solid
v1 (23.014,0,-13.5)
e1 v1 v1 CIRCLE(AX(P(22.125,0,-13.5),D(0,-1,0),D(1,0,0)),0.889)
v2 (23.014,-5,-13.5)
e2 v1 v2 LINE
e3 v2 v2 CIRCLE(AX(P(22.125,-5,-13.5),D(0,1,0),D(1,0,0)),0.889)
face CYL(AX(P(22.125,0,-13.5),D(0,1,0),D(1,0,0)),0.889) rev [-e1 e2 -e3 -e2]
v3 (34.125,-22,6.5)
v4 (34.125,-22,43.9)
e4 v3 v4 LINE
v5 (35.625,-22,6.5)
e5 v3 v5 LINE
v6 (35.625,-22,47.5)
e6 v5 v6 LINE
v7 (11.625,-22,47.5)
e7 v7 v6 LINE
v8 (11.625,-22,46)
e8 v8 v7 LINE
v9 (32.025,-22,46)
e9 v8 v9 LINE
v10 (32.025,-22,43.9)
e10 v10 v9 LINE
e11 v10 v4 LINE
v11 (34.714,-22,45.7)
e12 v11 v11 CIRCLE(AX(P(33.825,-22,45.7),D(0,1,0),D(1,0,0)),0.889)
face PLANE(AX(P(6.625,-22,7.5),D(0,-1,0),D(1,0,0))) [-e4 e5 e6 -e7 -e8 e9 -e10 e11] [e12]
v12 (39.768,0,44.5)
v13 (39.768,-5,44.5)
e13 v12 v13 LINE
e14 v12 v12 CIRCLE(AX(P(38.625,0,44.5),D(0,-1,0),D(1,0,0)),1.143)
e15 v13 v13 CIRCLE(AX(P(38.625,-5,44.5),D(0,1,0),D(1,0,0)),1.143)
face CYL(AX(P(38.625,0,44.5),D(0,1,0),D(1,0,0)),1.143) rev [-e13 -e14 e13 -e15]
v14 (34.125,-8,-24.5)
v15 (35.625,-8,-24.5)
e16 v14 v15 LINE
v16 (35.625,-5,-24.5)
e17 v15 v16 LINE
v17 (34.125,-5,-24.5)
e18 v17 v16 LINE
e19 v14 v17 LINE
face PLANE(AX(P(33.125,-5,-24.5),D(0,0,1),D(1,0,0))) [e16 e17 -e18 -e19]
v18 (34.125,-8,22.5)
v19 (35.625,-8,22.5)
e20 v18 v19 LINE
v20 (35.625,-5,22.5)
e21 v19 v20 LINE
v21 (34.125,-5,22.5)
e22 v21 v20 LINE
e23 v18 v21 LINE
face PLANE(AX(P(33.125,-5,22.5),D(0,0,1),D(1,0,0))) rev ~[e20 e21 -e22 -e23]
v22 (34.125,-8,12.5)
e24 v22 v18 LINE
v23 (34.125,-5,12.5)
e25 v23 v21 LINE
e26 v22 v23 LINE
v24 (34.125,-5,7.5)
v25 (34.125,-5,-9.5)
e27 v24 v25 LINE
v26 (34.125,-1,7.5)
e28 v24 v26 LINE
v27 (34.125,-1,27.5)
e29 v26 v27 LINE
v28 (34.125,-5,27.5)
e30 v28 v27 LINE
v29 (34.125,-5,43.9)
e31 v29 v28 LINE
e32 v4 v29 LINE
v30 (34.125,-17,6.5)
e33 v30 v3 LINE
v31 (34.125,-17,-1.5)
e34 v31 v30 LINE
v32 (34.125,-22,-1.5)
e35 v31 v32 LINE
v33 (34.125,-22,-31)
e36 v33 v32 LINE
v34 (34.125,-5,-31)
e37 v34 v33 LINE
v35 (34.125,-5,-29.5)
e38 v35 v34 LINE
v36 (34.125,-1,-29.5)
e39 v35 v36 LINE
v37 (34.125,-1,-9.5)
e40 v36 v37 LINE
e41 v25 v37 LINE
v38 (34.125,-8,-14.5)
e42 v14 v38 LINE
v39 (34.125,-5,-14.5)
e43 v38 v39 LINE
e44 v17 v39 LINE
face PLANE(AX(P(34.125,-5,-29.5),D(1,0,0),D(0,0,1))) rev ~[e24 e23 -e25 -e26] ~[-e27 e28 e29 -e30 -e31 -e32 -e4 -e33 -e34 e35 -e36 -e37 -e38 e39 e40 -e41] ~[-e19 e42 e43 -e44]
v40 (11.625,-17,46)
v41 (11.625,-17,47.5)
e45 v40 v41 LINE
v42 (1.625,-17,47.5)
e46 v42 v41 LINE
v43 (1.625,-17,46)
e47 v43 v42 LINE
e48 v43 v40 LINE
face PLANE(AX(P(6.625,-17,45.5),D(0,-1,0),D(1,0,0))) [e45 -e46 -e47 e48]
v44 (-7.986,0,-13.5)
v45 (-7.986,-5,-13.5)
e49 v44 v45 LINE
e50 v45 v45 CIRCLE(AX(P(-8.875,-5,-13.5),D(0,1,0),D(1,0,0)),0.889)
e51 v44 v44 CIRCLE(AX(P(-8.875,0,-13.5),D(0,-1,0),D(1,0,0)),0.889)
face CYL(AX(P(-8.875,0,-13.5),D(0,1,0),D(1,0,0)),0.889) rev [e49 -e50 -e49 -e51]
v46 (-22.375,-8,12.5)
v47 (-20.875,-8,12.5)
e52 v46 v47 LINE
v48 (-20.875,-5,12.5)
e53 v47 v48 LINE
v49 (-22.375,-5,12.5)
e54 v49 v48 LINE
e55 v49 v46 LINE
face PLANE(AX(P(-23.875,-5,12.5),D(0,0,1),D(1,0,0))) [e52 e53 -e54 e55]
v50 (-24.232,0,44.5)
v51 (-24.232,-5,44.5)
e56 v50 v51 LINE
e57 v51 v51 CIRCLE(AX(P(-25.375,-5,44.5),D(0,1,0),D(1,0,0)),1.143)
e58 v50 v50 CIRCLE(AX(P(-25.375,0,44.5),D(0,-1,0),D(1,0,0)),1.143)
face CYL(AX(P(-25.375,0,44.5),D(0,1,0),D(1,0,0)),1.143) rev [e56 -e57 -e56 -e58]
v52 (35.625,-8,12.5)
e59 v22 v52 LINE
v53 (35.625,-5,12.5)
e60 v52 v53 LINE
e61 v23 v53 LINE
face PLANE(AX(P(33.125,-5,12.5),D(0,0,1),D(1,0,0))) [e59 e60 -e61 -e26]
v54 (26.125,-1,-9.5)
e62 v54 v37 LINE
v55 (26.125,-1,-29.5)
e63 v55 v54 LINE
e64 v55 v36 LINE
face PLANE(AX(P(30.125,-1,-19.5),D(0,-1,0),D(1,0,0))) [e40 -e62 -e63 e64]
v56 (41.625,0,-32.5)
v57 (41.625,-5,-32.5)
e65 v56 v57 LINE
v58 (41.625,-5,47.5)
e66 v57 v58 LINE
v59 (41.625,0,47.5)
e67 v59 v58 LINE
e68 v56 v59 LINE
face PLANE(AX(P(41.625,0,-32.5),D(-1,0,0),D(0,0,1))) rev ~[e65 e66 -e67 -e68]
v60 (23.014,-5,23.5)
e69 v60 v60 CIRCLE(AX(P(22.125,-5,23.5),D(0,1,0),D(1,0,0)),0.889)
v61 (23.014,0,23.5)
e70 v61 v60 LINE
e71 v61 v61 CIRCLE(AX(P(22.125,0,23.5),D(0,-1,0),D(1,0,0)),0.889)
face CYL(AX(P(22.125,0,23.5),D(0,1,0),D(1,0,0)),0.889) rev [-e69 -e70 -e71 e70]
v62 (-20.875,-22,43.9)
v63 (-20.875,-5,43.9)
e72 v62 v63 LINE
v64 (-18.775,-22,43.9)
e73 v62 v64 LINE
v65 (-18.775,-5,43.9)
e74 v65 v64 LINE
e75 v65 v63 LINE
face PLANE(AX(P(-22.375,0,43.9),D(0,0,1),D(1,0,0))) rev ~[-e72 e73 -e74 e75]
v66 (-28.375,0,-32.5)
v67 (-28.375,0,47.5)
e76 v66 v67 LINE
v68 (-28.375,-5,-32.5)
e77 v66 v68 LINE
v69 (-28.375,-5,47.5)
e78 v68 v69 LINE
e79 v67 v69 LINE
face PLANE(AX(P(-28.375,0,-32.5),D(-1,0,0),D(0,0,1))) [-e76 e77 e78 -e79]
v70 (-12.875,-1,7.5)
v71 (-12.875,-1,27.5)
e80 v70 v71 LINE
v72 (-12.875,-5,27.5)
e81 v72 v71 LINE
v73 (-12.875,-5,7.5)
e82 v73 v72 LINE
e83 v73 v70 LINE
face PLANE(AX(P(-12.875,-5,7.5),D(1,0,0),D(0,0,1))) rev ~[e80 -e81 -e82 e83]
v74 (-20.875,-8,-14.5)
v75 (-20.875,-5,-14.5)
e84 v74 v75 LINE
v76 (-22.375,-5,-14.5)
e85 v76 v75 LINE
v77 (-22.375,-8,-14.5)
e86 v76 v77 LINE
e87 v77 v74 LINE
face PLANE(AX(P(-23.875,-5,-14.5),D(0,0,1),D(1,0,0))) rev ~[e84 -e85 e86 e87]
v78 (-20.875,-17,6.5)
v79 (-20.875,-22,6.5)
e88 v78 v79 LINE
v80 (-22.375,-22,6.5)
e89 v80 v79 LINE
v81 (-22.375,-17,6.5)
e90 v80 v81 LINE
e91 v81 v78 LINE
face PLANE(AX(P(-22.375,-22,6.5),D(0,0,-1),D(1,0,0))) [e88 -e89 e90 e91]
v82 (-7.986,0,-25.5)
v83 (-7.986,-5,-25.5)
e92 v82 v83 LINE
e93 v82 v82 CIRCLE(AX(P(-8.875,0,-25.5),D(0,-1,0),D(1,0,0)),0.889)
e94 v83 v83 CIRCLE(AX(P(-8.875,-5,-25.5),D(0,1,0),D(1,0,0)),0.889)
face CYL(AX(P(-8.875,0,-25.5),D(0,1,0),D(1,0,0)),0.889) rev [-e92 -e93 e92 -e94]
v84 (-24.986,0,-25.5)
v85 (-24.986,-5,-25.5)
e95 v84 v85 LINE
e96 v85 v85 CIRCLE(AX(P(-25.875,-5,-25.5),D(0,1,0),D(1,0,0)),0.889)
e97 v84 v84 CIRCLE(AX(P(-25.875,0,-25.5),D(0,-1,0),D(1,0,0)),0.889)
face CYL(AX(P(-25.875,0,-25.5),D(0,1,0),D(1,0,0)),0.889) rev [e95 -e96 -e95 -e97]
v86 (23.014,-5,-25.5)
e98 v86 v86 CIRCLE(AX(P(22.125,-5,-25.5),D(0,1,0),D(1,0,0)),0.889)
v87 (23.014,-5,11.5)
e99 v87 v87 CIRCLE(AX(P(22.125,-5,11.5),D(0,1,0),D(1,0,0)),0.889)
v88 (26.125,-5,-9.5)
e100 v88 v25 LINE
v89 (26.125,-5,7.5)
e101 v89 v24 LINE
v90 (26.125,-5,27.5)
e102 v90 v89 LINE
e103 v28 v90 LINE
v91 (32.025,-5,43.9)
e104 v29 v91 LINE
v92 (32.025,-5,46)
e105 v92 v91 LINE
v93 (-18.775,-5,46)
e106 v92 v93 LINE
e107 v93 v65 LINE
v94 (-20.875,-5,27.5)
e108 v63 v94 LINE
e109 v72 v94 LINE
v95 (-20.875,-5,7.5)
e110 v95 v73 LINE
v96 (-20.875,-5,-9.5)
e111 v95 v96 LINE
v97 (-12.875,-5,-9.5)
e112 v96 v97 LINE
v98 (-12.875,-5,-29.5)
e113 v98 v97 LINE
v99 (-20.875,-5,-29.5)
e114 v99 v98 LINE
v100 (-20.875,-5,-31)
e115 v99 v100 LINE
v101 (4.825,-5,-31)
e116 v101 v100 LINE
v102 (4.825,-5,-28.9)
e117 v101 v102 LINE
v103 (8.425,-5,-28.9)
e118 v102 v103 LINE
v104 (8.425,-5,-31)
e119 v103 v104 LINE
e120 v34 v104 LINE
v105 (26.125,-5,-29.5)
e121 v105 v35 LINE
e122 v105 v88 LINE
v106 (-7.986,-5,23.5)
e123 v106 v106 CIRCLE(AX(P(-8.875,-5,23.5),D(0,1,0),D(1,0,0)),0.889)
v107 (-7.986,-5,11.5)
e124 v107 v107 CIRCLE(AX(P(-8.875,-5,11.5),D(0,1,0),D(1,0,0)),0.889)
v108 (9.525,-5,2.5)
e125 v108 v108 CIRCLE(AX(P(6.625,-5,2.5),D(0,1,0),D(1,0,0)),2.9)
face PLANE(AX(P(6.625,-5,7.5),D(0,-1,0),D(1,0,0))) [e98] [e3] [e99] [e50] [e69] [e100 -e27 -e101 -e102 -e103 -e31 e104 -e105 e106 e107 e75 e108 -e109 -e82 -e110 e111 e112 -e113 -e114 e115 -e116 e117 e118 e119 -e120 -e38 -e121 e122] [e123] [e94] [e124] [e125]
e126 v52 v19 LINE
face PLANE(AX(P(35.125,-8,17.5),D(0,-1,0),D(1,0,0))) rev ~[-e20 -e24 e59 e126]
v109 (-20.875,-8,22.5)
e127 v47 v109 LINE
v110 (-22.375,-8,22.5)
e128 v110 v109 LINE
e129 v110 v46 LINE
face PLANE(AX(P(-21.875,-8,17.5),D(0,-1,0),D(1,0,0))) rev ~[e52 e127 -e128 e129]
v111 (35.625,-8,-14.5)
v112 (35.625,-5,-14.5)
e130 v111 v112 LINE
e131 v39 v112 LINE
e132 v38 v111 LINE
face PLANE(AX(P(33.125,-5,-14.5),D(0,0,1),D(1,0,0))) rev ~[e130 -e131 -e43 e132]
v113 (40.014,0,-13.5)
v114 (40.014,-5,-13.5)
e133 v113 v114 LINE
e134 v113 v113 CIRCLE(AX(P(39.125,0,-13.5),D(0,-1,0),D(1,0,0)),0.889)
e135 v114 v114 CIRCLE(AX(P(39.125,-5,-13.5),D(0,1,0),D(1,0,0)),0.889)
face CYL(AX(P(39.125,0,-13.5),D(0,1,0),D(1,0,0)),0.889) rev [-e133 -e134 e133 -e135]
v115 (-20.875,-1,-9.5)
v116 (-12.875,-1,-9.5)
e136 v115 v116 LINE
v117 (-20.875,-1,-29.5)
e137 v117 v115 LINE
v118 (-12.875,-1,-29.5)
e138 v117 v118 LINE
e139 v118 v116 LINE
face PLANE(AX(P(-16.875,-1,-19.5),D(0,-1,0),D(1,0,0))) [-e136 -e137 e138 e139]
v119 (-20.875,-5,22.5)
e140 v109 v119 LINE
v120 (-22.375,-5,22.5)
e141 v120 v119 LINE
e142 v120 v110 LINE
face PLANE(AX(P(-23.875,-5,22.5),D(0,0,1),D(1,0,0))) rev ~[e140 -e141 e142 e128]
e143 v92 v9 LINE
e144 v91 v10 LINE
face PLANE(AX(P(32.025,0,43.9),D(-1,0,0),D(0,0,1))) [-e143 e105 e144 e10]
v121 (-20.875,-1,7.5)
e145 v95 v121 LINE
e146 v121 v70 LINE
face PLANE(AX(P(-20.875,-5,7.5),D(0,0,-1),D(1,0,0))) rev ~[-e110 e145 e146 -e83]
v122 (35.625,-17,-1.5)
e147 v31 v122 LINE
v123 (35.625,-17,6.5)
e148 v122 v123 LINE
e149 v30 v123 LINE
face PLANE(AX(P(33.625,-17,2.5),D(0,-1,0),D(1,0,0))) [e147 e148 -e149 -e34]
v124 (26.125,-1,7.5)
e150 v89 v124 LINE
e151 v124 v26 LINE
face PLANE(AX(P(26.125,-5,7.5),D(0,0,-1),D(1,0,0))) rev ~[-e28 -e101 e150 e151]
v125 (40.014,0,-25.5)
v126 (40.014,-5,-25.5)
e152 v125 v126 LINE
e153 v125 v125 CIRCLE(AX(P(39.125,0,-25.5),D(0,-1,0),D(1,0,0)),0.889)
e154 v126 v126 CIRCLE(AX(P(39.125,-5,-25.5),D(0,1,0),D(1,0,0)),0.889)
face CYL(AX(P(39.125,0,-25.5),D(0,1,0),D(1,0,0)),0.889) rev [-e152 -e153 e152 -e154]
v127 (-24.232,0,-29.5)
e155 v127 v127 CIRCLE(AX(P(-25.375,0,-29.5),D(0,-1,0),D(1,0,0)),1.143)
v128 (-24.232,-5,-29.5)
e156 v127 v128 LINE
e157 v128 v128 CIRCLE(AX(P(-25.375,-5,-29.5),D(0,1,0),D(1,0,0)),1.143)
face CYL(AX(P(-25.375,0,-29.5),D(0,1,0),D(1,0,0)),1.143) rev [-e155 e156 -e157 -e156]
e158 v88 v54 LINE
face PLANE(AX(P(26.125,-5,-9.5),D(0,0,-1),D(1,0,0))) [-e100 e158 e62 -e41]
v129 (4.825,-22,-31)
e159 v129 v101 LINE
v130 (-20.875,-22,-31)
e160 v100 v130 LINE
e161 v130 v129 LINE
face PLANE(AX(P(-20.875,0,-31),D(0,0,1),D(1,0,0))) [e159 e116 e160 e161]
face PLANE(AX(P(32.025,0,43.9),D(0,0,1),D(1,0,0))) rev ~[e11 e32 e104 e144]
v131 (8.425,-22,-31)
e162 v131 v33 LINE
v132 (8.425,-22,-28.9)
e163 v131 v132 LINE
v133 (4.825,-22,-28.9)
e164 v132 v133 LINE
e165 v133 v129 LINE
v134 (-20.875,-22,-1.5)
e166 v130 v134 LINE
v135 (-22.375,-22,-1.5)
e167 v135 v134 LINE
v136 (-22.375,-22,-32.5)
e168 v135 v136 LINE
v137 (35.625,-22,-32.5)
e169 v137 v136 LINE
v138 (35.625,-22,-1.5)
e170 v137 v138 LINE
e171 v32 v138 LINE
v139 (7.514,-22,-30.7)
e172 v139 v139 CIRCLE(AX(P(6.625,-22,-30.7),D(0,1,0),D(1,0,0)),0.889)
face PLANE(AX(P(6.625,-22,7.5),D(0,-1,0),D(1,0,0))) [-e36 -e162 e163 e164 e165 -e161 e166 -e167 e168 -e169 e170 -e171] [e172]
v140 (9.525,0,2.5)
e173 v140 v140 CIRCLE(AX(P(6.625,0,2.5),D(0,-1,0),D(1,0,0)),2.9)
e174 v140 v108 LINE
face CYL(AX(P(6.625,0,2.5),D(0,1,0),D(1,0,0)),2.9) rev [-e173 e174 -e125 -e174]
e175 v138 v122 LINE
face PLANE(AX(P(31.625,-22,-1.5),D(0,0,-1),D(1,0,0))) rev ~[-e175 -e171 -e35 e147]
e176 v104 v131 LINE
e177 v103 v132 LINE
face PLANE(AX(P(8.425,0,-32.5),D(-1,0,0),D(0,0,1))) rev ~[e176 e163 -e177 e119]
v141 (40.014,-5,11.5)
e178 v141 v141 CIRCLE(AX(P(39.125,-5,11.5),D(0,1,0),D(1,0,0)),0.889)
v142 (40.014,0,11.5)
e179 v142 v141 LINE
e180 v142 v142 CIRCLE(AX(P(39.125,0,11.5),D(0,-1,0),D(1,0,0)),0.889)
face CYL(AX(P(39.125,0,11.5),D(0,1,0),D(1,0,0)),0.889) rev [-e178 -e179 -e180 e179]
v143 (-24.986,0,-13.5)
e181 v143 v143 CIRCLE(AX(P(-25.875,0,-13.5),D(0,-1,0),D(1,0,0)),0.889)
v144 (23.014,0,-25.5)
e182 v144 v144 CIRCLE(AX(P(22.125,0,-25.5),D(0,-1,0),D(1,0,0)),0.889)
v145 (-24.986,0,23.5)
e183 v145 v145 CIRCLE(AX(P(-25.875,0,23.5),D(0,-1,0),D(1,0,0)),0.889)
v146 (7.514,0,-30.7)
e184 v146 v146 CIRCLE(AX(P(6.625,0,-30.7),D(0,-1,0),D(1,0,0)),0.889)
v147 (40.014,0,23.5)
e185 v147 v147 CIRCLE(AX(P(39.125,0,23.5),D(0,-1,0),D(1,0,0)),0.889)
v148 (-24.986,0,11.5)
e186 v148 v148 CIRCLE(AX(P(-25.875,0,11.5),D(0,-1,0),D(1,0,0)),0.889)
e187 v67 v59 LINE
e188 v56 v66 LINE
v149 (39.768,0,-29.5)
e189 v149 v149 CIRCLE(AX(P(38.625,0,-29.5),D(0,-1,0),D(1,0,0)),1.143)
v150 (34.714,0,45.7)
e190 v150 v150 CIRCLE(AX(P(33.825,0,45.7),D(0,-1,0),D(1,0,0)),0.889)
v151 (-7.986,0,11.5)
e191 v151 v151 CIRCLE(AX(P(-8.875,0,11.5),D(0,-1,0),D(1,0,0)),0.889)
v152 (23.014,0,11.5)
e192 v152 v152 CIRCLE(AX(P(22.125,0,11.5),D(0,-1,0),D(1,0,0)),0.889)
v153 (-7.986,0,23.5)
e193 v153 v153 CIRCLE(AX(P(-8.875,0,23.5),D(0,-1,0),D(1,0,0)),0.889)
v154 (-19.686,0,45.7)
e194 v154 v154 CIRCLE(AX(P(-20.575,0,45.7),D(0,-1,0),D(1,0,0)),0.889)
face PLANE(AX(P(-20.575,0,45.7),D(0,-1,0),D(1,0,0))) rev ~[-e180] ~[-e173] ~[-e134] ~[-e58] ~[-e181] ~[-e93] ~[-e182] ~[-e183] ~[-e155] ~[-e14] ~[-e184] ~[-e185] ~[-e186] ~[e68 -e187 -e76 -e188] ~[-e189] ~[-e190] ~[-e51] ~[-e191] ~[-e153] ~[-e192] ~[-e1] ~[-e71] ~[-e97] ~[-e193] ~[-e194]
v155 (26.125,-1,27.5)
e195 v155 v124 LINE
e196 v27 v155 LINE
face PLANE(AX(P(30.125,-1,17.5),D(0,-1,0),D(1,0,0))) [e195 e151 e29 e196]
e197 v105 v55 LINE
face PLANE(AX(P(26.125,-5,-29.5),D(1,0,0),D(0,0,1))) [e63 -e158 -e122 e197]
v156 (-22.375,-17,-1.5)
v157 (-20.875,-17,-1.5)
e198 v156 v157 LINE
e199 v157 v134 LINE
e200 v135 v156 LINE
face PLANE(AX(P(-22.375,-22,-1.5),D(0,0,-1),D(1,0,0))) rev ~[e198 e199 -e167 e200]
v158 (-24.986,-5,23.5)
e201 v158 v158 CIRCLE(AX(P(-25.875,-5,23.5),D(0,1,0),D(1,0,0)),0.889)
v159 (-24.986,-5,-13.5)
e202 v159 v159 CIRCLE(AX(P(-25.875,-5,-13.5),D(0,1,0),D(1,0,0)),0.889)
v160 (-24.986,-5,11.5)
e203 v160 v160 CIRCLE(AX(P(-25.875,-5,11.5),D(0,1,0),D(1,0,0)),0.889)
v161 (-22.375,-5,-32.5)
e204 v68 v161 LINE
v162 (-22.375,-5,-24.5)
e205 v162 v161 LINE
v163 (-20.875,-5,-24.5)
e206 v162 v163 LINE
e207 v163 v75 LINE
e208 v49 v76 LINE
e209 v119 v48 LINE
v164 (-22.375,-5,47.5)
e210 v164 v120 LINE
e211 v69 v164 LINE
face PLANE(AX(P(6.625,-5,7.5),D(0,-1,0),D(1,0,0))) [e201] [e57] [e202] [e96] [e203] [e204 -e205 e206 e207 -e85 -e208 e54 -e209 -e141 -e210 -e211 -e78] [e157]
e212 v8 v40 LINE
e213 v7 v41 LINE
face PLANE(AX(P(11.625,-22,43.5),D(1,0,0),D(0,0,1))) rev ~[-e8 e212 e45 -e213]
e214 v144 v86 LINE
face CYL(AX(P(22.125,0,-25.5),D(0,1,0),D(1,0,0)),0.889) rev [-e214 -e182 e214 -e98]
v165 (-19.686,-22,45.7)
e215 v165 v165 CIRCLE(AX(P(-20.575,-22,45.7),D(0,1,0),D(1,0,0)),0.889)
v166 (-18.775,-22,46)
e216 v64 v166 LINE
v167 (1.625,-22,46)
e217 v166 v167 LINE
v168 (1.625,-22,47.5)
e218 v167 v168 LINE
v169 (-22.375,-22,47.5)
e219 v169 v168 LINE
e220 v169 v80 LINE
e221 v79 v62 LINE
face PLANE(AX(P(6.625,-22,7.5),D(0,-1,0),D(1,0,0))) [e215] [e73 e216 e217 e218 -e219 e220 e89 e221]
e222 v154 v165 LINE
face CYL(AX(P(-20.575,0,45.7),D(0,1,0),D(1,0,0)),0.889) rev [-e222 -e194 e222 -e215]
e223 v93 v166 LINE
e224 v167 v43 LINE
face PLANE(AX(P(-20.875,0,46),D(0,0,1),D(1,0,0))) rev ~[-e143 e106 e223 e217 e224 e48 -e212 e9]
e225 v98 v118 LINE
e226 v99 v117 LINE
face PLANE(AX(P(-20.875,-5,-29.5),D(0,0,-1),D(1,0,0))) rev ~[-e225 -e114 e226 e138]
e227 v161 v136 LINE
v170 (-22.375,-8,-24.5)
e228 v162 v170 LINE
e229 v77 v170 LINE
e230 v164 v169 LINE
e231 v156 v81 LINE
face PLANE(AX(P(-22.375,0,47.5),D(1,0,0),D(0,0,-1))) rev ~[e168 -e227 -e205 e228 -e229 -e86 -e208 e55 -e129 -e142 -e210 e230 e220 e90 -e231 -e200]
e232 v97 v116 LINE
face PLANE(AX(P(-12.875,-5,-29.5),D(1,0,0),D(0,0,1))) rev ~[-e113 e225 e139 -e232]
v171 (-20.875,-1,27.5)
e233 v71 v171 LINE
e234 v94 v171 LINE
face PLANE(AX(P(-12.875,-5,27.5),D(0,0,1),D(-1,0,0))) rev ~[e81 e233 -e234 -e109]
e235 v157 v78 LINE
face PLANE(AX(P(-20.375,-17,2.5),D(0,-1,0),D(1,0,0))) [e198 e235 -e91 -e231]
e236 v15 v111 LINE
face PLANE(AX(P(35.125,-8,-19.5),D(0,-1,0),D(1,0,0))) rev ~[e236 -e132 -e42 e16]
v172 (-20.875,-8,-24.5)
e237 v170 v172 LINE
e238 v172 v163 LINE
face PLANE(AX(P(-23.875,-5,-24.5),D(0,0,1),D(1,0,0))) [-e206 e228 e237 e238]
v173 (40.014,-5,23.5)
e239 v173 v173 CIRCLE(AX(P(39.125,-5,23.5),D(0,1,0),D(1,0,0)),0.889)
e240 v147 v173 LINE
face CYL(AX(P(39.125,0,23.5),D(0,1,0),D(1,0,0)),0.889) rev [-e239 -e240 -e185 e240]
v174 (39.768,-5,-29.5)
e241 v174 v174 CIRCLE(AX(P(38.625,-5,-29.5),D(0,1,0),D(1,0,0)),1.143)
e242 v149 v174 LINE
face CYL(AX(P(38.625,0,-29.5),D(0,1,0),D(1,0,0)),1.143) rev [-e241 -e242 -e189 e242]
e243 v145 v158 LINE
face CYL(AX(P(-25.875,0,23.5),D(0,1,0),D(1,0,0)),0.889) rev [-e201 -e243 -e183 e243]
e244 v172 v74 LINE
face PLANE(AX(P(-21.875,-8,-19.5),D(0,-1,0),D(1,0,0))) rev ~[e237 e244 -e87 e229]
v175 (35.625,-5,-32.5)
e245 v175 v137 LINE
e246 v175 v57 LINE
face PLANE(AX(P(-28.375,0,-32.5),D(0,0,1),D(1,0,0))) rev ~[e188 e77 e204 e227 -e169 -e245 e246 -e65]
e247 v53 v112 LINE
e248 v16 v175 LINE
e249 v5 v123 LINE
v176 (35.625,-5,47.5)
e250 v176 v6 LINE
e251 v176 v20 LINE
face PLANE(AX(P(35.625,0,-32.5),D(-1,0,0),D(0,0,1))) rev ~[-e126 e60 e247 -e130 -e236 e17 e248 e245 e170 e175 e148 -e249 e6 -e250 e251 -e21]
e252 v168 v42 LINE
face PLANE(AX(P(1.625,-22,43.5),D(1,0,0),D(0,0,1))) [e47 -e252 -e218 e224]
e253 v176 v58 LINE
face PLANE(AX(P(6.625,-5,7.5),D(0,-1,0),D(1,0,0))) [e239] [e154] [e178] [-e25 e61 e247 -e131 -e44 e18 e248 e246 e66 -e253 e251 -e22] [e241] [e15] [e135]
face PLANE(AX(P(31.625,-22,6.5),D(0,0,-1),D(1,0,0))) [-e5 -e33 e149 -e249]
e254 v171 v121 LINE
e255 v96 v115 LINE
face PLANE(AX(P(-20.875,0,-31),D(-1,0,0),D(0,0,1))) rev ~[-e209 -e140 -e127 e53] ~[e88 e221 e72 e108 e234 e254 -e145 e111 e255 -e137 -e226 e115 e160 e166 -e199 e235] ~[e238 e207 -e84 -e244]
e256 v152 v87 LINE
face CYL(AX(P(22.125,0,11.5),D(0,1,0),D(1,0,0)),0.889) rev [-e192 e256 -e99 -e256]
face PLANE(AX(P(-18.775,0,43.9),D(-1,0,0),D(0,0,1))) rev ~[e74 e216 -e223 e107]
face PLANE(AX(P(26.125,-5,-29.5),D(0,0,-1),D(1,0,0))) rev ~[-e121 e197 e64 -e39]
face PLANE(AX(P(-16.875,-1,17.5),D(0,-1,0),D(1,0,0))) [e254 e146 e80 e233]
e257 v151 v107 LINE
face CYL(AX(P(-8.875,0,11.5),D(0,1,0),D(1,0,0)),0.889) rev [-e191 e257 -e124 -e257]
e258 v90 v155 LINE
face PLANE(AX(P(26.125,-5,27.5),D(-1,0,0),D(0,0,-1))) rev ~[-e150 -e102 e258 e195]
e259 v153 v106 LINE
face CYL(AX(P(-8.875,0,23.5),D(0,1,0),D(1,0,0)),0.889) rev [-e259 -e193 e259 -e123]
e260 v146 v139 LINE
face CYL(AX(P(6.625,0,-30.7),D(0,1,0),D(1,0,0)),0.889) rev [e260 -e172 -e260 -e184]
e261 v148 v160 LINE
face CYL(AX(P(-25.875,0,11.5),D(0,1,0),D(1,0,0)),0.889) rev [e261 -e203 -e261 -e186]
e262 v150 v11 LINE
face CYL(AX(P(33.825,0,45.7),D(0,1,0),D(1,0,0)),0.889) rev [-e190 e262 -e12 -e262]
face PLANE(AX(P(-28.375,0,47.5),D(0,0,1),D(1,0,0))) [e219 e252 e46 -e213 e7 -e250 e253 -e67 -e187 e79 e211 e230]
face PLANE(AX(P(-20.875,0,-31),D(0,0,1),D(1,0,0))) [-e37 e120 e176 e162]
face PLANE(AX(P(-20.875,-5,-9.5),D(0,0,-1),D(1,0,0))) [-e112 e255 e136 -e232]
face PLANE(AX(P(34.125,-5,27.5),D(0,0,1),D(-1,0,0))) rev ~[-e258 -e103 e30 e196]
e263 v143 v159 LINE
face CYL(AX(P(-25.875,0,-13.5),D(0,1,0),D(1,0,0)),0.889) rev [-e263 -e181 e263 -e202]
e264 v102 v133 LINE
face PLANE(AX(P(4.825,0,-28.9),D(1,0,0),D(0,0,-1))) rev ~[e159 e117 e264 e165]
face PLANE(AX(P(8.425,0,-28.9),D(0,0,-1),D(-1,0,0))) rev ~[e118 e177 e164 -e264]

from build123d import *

# Parameters (mm, degrees)
F1_W      = 70
F1_H      = 80
F4_DEPTH  = 5
F5_W      = 55
F5_H      = 77
F7_DEPTH  = 22
F6_W      = 3.6
F6_H      = 3.6
F8_DEPTH  = 22
F3_R      = 0.889
F3_R_2    = 1.143
F3_R_3    = 2.9
F9_DEPTH  = 22.001
F10_W     = 4
F10_H     = 10
F11_DEPTH = 3
F12_W     = 10
F12_H     = 4
F12_W_2   = 4
F12_H_2   = 8
F13_DEPTH = 5
F14_W     = 8
F14_H     = 20
F15_DEPTH = 4


with BuildPart() as f4:
    # F1 (on Front) → F4 (new body)
    with BuildSketch(Plane.XZ):
        with Locations((6.625, 7.5)):
            Rectangle(F1_W, F1_H)
    extrude(amount=F4_DEPTH)

    # F5 (on Front) → F7 (join)
    with BuildSketch(Plane.XZ):
        Polygon((35.625, 47.5), (-22.375, 47.5), (-22.375, -32.5), (35.625, -32.5), (35.625, -29.5), align=None)
        with Locations((6.625, 7.5)):
            Rectangle(F5_W, F5_H, mode=Mode.SUBTRACT)
    extrude(amount=F7_DEPTH)

    # F6 (on Front) → F8 (join)
    with BuildSketch(Plane.XZ):
        with Locations((-20.575, 45.7)):
            Rectangle(F6_W, F6_H)
        with Locations((33.825, 45.7)):
            Rectangle(F6_W, F6_H)
        Polygon((8.425, -32.5), (8.425, -28.9), (4.825, -28.9), (4.825, -30.7), (4.825, -32.5), align=None)
    extrude(amount=F8_DEPTH)

    # F3 (on Front) → F9 (cut, through all)
    with BuildSketch(Plane.XZ):
        with Locations((-25.875, 23.5)):
            Circle(F3_R)
        with Locations((-25.875, 11.5)):
            Circle(F3_R)
        with Locations((-8.875, 23.5)):
            Circle(F3_R)
        with Locations((-8.875, 11.5)):
            Circle(F3_R)
        with Locations((-8.875, -13.5)):
            Circle(F3_R)
        with Locations((-25.875, -13.5)):
            Circle(F3_R)
        with Locations((-25.875, -25.5)):
            Circle(F3_R)
        with Locations((-8.875, -25.5)):
            Circle(F3_R)
        with Locations((6.625, -30.7)):
            Circle(F3_R)
        with Locations((-25.375, -29.5)):
            Circle(F3_R_2)
        with Locations((6.625, 2.5)):
            Circle(F3_R_3)
        with Locations((-25.375, 44.5)):
            Circle(F3_R_2)
        with Locations((22.125, 23.5)):
            Circle(F3_R)
        with Locations((22.125, 11.5)):
            Circle(F3_R)
        with Locations((39.125, 23.5)):
            Circle(F3_R)
        with Locations((38.625, 44.5)):
            Circle(F3_R_2)
        with Locations((22.125, -13.5)):
            Circle(F3_R)
        with Locations((22.125, -25.5)):
            Circle(F3_R)
        with Locations((39.125, -13.5)):
            Circle(F3_R)
        with Locations((39.125, -25.5)):
            Circle(F3_R)
        with Locations((38.625, -29.5)):
            Circle(F3_R_2)
        with Locations((39.125, 11.5)):
            Circle(F3_R)
        with Locations((-20.575, 45.7)):
            Circle(F3_R)
        with Locations((33.825, 45.7)):
            Circle(F3_R)
    extrude(amount=F9_DEPTH, mode=Mode.SUBTRACT)

    # F10 (on face) → F11 (cut)
    with BuildSketch(Plane.XZ.offset(5)):
        with Locations((-21.875, 17.5)):
            Rectangle(F10_W, F10_H)
        with Locations((-21.875, -19.5)):
            Rectangle(F10_W, F10_H)
        with Locations((35.125, -19.5)):
            Rectangle(F10_W, F10_H)
        with Locations((35.125, 17.5)):
            Rectangle(F10_W, F10_H)
    extrude(amount=F11_DEPTH, mode=Mode.SUBTRACT)

    # F12 (on face) → F13 (cut)
    with BuildSketch(Plane.XZ.offset(22)):
        with Locations((6.625, 45.5)):
            Rectangle(F12_W, F12_H)
        with Locations((33.625, 2.5)):
            Rectangle(F12_W_2, F12_H_2)
        with Locations((-20.375, 2.5)):
            Rectangle(F12_W_2, F12_H_2)
    extrude(amount=-F13_DEPTH, mode=Mode.SUBTRACT)

    # F14 (on face) → F15 (cut)
    with BuildSketch(Plane.XZ.offset(5)):
        Polygon((-20.875, 17.5), (-20.875, 7.5), (-12.875, 7.5), (-12.875, 27.5), (-20.875, 27.5), align=None)
        with Locations((-16.875, -19.5)):
            Rectangle(F14_W, F14_H)
        Polygon((34.125, 17.5), (34.125, 27.5), (26.125, 27.5), (26.125, 7.5), (34.125, 7.5), align=None)
        with Locations((30.125, -19.5)):
            Rectangle(F14_W, F14_H)
    extrude(amount=-F15_DEPTH, mode=Mode.SUBTRACT)


solid = f4.part
